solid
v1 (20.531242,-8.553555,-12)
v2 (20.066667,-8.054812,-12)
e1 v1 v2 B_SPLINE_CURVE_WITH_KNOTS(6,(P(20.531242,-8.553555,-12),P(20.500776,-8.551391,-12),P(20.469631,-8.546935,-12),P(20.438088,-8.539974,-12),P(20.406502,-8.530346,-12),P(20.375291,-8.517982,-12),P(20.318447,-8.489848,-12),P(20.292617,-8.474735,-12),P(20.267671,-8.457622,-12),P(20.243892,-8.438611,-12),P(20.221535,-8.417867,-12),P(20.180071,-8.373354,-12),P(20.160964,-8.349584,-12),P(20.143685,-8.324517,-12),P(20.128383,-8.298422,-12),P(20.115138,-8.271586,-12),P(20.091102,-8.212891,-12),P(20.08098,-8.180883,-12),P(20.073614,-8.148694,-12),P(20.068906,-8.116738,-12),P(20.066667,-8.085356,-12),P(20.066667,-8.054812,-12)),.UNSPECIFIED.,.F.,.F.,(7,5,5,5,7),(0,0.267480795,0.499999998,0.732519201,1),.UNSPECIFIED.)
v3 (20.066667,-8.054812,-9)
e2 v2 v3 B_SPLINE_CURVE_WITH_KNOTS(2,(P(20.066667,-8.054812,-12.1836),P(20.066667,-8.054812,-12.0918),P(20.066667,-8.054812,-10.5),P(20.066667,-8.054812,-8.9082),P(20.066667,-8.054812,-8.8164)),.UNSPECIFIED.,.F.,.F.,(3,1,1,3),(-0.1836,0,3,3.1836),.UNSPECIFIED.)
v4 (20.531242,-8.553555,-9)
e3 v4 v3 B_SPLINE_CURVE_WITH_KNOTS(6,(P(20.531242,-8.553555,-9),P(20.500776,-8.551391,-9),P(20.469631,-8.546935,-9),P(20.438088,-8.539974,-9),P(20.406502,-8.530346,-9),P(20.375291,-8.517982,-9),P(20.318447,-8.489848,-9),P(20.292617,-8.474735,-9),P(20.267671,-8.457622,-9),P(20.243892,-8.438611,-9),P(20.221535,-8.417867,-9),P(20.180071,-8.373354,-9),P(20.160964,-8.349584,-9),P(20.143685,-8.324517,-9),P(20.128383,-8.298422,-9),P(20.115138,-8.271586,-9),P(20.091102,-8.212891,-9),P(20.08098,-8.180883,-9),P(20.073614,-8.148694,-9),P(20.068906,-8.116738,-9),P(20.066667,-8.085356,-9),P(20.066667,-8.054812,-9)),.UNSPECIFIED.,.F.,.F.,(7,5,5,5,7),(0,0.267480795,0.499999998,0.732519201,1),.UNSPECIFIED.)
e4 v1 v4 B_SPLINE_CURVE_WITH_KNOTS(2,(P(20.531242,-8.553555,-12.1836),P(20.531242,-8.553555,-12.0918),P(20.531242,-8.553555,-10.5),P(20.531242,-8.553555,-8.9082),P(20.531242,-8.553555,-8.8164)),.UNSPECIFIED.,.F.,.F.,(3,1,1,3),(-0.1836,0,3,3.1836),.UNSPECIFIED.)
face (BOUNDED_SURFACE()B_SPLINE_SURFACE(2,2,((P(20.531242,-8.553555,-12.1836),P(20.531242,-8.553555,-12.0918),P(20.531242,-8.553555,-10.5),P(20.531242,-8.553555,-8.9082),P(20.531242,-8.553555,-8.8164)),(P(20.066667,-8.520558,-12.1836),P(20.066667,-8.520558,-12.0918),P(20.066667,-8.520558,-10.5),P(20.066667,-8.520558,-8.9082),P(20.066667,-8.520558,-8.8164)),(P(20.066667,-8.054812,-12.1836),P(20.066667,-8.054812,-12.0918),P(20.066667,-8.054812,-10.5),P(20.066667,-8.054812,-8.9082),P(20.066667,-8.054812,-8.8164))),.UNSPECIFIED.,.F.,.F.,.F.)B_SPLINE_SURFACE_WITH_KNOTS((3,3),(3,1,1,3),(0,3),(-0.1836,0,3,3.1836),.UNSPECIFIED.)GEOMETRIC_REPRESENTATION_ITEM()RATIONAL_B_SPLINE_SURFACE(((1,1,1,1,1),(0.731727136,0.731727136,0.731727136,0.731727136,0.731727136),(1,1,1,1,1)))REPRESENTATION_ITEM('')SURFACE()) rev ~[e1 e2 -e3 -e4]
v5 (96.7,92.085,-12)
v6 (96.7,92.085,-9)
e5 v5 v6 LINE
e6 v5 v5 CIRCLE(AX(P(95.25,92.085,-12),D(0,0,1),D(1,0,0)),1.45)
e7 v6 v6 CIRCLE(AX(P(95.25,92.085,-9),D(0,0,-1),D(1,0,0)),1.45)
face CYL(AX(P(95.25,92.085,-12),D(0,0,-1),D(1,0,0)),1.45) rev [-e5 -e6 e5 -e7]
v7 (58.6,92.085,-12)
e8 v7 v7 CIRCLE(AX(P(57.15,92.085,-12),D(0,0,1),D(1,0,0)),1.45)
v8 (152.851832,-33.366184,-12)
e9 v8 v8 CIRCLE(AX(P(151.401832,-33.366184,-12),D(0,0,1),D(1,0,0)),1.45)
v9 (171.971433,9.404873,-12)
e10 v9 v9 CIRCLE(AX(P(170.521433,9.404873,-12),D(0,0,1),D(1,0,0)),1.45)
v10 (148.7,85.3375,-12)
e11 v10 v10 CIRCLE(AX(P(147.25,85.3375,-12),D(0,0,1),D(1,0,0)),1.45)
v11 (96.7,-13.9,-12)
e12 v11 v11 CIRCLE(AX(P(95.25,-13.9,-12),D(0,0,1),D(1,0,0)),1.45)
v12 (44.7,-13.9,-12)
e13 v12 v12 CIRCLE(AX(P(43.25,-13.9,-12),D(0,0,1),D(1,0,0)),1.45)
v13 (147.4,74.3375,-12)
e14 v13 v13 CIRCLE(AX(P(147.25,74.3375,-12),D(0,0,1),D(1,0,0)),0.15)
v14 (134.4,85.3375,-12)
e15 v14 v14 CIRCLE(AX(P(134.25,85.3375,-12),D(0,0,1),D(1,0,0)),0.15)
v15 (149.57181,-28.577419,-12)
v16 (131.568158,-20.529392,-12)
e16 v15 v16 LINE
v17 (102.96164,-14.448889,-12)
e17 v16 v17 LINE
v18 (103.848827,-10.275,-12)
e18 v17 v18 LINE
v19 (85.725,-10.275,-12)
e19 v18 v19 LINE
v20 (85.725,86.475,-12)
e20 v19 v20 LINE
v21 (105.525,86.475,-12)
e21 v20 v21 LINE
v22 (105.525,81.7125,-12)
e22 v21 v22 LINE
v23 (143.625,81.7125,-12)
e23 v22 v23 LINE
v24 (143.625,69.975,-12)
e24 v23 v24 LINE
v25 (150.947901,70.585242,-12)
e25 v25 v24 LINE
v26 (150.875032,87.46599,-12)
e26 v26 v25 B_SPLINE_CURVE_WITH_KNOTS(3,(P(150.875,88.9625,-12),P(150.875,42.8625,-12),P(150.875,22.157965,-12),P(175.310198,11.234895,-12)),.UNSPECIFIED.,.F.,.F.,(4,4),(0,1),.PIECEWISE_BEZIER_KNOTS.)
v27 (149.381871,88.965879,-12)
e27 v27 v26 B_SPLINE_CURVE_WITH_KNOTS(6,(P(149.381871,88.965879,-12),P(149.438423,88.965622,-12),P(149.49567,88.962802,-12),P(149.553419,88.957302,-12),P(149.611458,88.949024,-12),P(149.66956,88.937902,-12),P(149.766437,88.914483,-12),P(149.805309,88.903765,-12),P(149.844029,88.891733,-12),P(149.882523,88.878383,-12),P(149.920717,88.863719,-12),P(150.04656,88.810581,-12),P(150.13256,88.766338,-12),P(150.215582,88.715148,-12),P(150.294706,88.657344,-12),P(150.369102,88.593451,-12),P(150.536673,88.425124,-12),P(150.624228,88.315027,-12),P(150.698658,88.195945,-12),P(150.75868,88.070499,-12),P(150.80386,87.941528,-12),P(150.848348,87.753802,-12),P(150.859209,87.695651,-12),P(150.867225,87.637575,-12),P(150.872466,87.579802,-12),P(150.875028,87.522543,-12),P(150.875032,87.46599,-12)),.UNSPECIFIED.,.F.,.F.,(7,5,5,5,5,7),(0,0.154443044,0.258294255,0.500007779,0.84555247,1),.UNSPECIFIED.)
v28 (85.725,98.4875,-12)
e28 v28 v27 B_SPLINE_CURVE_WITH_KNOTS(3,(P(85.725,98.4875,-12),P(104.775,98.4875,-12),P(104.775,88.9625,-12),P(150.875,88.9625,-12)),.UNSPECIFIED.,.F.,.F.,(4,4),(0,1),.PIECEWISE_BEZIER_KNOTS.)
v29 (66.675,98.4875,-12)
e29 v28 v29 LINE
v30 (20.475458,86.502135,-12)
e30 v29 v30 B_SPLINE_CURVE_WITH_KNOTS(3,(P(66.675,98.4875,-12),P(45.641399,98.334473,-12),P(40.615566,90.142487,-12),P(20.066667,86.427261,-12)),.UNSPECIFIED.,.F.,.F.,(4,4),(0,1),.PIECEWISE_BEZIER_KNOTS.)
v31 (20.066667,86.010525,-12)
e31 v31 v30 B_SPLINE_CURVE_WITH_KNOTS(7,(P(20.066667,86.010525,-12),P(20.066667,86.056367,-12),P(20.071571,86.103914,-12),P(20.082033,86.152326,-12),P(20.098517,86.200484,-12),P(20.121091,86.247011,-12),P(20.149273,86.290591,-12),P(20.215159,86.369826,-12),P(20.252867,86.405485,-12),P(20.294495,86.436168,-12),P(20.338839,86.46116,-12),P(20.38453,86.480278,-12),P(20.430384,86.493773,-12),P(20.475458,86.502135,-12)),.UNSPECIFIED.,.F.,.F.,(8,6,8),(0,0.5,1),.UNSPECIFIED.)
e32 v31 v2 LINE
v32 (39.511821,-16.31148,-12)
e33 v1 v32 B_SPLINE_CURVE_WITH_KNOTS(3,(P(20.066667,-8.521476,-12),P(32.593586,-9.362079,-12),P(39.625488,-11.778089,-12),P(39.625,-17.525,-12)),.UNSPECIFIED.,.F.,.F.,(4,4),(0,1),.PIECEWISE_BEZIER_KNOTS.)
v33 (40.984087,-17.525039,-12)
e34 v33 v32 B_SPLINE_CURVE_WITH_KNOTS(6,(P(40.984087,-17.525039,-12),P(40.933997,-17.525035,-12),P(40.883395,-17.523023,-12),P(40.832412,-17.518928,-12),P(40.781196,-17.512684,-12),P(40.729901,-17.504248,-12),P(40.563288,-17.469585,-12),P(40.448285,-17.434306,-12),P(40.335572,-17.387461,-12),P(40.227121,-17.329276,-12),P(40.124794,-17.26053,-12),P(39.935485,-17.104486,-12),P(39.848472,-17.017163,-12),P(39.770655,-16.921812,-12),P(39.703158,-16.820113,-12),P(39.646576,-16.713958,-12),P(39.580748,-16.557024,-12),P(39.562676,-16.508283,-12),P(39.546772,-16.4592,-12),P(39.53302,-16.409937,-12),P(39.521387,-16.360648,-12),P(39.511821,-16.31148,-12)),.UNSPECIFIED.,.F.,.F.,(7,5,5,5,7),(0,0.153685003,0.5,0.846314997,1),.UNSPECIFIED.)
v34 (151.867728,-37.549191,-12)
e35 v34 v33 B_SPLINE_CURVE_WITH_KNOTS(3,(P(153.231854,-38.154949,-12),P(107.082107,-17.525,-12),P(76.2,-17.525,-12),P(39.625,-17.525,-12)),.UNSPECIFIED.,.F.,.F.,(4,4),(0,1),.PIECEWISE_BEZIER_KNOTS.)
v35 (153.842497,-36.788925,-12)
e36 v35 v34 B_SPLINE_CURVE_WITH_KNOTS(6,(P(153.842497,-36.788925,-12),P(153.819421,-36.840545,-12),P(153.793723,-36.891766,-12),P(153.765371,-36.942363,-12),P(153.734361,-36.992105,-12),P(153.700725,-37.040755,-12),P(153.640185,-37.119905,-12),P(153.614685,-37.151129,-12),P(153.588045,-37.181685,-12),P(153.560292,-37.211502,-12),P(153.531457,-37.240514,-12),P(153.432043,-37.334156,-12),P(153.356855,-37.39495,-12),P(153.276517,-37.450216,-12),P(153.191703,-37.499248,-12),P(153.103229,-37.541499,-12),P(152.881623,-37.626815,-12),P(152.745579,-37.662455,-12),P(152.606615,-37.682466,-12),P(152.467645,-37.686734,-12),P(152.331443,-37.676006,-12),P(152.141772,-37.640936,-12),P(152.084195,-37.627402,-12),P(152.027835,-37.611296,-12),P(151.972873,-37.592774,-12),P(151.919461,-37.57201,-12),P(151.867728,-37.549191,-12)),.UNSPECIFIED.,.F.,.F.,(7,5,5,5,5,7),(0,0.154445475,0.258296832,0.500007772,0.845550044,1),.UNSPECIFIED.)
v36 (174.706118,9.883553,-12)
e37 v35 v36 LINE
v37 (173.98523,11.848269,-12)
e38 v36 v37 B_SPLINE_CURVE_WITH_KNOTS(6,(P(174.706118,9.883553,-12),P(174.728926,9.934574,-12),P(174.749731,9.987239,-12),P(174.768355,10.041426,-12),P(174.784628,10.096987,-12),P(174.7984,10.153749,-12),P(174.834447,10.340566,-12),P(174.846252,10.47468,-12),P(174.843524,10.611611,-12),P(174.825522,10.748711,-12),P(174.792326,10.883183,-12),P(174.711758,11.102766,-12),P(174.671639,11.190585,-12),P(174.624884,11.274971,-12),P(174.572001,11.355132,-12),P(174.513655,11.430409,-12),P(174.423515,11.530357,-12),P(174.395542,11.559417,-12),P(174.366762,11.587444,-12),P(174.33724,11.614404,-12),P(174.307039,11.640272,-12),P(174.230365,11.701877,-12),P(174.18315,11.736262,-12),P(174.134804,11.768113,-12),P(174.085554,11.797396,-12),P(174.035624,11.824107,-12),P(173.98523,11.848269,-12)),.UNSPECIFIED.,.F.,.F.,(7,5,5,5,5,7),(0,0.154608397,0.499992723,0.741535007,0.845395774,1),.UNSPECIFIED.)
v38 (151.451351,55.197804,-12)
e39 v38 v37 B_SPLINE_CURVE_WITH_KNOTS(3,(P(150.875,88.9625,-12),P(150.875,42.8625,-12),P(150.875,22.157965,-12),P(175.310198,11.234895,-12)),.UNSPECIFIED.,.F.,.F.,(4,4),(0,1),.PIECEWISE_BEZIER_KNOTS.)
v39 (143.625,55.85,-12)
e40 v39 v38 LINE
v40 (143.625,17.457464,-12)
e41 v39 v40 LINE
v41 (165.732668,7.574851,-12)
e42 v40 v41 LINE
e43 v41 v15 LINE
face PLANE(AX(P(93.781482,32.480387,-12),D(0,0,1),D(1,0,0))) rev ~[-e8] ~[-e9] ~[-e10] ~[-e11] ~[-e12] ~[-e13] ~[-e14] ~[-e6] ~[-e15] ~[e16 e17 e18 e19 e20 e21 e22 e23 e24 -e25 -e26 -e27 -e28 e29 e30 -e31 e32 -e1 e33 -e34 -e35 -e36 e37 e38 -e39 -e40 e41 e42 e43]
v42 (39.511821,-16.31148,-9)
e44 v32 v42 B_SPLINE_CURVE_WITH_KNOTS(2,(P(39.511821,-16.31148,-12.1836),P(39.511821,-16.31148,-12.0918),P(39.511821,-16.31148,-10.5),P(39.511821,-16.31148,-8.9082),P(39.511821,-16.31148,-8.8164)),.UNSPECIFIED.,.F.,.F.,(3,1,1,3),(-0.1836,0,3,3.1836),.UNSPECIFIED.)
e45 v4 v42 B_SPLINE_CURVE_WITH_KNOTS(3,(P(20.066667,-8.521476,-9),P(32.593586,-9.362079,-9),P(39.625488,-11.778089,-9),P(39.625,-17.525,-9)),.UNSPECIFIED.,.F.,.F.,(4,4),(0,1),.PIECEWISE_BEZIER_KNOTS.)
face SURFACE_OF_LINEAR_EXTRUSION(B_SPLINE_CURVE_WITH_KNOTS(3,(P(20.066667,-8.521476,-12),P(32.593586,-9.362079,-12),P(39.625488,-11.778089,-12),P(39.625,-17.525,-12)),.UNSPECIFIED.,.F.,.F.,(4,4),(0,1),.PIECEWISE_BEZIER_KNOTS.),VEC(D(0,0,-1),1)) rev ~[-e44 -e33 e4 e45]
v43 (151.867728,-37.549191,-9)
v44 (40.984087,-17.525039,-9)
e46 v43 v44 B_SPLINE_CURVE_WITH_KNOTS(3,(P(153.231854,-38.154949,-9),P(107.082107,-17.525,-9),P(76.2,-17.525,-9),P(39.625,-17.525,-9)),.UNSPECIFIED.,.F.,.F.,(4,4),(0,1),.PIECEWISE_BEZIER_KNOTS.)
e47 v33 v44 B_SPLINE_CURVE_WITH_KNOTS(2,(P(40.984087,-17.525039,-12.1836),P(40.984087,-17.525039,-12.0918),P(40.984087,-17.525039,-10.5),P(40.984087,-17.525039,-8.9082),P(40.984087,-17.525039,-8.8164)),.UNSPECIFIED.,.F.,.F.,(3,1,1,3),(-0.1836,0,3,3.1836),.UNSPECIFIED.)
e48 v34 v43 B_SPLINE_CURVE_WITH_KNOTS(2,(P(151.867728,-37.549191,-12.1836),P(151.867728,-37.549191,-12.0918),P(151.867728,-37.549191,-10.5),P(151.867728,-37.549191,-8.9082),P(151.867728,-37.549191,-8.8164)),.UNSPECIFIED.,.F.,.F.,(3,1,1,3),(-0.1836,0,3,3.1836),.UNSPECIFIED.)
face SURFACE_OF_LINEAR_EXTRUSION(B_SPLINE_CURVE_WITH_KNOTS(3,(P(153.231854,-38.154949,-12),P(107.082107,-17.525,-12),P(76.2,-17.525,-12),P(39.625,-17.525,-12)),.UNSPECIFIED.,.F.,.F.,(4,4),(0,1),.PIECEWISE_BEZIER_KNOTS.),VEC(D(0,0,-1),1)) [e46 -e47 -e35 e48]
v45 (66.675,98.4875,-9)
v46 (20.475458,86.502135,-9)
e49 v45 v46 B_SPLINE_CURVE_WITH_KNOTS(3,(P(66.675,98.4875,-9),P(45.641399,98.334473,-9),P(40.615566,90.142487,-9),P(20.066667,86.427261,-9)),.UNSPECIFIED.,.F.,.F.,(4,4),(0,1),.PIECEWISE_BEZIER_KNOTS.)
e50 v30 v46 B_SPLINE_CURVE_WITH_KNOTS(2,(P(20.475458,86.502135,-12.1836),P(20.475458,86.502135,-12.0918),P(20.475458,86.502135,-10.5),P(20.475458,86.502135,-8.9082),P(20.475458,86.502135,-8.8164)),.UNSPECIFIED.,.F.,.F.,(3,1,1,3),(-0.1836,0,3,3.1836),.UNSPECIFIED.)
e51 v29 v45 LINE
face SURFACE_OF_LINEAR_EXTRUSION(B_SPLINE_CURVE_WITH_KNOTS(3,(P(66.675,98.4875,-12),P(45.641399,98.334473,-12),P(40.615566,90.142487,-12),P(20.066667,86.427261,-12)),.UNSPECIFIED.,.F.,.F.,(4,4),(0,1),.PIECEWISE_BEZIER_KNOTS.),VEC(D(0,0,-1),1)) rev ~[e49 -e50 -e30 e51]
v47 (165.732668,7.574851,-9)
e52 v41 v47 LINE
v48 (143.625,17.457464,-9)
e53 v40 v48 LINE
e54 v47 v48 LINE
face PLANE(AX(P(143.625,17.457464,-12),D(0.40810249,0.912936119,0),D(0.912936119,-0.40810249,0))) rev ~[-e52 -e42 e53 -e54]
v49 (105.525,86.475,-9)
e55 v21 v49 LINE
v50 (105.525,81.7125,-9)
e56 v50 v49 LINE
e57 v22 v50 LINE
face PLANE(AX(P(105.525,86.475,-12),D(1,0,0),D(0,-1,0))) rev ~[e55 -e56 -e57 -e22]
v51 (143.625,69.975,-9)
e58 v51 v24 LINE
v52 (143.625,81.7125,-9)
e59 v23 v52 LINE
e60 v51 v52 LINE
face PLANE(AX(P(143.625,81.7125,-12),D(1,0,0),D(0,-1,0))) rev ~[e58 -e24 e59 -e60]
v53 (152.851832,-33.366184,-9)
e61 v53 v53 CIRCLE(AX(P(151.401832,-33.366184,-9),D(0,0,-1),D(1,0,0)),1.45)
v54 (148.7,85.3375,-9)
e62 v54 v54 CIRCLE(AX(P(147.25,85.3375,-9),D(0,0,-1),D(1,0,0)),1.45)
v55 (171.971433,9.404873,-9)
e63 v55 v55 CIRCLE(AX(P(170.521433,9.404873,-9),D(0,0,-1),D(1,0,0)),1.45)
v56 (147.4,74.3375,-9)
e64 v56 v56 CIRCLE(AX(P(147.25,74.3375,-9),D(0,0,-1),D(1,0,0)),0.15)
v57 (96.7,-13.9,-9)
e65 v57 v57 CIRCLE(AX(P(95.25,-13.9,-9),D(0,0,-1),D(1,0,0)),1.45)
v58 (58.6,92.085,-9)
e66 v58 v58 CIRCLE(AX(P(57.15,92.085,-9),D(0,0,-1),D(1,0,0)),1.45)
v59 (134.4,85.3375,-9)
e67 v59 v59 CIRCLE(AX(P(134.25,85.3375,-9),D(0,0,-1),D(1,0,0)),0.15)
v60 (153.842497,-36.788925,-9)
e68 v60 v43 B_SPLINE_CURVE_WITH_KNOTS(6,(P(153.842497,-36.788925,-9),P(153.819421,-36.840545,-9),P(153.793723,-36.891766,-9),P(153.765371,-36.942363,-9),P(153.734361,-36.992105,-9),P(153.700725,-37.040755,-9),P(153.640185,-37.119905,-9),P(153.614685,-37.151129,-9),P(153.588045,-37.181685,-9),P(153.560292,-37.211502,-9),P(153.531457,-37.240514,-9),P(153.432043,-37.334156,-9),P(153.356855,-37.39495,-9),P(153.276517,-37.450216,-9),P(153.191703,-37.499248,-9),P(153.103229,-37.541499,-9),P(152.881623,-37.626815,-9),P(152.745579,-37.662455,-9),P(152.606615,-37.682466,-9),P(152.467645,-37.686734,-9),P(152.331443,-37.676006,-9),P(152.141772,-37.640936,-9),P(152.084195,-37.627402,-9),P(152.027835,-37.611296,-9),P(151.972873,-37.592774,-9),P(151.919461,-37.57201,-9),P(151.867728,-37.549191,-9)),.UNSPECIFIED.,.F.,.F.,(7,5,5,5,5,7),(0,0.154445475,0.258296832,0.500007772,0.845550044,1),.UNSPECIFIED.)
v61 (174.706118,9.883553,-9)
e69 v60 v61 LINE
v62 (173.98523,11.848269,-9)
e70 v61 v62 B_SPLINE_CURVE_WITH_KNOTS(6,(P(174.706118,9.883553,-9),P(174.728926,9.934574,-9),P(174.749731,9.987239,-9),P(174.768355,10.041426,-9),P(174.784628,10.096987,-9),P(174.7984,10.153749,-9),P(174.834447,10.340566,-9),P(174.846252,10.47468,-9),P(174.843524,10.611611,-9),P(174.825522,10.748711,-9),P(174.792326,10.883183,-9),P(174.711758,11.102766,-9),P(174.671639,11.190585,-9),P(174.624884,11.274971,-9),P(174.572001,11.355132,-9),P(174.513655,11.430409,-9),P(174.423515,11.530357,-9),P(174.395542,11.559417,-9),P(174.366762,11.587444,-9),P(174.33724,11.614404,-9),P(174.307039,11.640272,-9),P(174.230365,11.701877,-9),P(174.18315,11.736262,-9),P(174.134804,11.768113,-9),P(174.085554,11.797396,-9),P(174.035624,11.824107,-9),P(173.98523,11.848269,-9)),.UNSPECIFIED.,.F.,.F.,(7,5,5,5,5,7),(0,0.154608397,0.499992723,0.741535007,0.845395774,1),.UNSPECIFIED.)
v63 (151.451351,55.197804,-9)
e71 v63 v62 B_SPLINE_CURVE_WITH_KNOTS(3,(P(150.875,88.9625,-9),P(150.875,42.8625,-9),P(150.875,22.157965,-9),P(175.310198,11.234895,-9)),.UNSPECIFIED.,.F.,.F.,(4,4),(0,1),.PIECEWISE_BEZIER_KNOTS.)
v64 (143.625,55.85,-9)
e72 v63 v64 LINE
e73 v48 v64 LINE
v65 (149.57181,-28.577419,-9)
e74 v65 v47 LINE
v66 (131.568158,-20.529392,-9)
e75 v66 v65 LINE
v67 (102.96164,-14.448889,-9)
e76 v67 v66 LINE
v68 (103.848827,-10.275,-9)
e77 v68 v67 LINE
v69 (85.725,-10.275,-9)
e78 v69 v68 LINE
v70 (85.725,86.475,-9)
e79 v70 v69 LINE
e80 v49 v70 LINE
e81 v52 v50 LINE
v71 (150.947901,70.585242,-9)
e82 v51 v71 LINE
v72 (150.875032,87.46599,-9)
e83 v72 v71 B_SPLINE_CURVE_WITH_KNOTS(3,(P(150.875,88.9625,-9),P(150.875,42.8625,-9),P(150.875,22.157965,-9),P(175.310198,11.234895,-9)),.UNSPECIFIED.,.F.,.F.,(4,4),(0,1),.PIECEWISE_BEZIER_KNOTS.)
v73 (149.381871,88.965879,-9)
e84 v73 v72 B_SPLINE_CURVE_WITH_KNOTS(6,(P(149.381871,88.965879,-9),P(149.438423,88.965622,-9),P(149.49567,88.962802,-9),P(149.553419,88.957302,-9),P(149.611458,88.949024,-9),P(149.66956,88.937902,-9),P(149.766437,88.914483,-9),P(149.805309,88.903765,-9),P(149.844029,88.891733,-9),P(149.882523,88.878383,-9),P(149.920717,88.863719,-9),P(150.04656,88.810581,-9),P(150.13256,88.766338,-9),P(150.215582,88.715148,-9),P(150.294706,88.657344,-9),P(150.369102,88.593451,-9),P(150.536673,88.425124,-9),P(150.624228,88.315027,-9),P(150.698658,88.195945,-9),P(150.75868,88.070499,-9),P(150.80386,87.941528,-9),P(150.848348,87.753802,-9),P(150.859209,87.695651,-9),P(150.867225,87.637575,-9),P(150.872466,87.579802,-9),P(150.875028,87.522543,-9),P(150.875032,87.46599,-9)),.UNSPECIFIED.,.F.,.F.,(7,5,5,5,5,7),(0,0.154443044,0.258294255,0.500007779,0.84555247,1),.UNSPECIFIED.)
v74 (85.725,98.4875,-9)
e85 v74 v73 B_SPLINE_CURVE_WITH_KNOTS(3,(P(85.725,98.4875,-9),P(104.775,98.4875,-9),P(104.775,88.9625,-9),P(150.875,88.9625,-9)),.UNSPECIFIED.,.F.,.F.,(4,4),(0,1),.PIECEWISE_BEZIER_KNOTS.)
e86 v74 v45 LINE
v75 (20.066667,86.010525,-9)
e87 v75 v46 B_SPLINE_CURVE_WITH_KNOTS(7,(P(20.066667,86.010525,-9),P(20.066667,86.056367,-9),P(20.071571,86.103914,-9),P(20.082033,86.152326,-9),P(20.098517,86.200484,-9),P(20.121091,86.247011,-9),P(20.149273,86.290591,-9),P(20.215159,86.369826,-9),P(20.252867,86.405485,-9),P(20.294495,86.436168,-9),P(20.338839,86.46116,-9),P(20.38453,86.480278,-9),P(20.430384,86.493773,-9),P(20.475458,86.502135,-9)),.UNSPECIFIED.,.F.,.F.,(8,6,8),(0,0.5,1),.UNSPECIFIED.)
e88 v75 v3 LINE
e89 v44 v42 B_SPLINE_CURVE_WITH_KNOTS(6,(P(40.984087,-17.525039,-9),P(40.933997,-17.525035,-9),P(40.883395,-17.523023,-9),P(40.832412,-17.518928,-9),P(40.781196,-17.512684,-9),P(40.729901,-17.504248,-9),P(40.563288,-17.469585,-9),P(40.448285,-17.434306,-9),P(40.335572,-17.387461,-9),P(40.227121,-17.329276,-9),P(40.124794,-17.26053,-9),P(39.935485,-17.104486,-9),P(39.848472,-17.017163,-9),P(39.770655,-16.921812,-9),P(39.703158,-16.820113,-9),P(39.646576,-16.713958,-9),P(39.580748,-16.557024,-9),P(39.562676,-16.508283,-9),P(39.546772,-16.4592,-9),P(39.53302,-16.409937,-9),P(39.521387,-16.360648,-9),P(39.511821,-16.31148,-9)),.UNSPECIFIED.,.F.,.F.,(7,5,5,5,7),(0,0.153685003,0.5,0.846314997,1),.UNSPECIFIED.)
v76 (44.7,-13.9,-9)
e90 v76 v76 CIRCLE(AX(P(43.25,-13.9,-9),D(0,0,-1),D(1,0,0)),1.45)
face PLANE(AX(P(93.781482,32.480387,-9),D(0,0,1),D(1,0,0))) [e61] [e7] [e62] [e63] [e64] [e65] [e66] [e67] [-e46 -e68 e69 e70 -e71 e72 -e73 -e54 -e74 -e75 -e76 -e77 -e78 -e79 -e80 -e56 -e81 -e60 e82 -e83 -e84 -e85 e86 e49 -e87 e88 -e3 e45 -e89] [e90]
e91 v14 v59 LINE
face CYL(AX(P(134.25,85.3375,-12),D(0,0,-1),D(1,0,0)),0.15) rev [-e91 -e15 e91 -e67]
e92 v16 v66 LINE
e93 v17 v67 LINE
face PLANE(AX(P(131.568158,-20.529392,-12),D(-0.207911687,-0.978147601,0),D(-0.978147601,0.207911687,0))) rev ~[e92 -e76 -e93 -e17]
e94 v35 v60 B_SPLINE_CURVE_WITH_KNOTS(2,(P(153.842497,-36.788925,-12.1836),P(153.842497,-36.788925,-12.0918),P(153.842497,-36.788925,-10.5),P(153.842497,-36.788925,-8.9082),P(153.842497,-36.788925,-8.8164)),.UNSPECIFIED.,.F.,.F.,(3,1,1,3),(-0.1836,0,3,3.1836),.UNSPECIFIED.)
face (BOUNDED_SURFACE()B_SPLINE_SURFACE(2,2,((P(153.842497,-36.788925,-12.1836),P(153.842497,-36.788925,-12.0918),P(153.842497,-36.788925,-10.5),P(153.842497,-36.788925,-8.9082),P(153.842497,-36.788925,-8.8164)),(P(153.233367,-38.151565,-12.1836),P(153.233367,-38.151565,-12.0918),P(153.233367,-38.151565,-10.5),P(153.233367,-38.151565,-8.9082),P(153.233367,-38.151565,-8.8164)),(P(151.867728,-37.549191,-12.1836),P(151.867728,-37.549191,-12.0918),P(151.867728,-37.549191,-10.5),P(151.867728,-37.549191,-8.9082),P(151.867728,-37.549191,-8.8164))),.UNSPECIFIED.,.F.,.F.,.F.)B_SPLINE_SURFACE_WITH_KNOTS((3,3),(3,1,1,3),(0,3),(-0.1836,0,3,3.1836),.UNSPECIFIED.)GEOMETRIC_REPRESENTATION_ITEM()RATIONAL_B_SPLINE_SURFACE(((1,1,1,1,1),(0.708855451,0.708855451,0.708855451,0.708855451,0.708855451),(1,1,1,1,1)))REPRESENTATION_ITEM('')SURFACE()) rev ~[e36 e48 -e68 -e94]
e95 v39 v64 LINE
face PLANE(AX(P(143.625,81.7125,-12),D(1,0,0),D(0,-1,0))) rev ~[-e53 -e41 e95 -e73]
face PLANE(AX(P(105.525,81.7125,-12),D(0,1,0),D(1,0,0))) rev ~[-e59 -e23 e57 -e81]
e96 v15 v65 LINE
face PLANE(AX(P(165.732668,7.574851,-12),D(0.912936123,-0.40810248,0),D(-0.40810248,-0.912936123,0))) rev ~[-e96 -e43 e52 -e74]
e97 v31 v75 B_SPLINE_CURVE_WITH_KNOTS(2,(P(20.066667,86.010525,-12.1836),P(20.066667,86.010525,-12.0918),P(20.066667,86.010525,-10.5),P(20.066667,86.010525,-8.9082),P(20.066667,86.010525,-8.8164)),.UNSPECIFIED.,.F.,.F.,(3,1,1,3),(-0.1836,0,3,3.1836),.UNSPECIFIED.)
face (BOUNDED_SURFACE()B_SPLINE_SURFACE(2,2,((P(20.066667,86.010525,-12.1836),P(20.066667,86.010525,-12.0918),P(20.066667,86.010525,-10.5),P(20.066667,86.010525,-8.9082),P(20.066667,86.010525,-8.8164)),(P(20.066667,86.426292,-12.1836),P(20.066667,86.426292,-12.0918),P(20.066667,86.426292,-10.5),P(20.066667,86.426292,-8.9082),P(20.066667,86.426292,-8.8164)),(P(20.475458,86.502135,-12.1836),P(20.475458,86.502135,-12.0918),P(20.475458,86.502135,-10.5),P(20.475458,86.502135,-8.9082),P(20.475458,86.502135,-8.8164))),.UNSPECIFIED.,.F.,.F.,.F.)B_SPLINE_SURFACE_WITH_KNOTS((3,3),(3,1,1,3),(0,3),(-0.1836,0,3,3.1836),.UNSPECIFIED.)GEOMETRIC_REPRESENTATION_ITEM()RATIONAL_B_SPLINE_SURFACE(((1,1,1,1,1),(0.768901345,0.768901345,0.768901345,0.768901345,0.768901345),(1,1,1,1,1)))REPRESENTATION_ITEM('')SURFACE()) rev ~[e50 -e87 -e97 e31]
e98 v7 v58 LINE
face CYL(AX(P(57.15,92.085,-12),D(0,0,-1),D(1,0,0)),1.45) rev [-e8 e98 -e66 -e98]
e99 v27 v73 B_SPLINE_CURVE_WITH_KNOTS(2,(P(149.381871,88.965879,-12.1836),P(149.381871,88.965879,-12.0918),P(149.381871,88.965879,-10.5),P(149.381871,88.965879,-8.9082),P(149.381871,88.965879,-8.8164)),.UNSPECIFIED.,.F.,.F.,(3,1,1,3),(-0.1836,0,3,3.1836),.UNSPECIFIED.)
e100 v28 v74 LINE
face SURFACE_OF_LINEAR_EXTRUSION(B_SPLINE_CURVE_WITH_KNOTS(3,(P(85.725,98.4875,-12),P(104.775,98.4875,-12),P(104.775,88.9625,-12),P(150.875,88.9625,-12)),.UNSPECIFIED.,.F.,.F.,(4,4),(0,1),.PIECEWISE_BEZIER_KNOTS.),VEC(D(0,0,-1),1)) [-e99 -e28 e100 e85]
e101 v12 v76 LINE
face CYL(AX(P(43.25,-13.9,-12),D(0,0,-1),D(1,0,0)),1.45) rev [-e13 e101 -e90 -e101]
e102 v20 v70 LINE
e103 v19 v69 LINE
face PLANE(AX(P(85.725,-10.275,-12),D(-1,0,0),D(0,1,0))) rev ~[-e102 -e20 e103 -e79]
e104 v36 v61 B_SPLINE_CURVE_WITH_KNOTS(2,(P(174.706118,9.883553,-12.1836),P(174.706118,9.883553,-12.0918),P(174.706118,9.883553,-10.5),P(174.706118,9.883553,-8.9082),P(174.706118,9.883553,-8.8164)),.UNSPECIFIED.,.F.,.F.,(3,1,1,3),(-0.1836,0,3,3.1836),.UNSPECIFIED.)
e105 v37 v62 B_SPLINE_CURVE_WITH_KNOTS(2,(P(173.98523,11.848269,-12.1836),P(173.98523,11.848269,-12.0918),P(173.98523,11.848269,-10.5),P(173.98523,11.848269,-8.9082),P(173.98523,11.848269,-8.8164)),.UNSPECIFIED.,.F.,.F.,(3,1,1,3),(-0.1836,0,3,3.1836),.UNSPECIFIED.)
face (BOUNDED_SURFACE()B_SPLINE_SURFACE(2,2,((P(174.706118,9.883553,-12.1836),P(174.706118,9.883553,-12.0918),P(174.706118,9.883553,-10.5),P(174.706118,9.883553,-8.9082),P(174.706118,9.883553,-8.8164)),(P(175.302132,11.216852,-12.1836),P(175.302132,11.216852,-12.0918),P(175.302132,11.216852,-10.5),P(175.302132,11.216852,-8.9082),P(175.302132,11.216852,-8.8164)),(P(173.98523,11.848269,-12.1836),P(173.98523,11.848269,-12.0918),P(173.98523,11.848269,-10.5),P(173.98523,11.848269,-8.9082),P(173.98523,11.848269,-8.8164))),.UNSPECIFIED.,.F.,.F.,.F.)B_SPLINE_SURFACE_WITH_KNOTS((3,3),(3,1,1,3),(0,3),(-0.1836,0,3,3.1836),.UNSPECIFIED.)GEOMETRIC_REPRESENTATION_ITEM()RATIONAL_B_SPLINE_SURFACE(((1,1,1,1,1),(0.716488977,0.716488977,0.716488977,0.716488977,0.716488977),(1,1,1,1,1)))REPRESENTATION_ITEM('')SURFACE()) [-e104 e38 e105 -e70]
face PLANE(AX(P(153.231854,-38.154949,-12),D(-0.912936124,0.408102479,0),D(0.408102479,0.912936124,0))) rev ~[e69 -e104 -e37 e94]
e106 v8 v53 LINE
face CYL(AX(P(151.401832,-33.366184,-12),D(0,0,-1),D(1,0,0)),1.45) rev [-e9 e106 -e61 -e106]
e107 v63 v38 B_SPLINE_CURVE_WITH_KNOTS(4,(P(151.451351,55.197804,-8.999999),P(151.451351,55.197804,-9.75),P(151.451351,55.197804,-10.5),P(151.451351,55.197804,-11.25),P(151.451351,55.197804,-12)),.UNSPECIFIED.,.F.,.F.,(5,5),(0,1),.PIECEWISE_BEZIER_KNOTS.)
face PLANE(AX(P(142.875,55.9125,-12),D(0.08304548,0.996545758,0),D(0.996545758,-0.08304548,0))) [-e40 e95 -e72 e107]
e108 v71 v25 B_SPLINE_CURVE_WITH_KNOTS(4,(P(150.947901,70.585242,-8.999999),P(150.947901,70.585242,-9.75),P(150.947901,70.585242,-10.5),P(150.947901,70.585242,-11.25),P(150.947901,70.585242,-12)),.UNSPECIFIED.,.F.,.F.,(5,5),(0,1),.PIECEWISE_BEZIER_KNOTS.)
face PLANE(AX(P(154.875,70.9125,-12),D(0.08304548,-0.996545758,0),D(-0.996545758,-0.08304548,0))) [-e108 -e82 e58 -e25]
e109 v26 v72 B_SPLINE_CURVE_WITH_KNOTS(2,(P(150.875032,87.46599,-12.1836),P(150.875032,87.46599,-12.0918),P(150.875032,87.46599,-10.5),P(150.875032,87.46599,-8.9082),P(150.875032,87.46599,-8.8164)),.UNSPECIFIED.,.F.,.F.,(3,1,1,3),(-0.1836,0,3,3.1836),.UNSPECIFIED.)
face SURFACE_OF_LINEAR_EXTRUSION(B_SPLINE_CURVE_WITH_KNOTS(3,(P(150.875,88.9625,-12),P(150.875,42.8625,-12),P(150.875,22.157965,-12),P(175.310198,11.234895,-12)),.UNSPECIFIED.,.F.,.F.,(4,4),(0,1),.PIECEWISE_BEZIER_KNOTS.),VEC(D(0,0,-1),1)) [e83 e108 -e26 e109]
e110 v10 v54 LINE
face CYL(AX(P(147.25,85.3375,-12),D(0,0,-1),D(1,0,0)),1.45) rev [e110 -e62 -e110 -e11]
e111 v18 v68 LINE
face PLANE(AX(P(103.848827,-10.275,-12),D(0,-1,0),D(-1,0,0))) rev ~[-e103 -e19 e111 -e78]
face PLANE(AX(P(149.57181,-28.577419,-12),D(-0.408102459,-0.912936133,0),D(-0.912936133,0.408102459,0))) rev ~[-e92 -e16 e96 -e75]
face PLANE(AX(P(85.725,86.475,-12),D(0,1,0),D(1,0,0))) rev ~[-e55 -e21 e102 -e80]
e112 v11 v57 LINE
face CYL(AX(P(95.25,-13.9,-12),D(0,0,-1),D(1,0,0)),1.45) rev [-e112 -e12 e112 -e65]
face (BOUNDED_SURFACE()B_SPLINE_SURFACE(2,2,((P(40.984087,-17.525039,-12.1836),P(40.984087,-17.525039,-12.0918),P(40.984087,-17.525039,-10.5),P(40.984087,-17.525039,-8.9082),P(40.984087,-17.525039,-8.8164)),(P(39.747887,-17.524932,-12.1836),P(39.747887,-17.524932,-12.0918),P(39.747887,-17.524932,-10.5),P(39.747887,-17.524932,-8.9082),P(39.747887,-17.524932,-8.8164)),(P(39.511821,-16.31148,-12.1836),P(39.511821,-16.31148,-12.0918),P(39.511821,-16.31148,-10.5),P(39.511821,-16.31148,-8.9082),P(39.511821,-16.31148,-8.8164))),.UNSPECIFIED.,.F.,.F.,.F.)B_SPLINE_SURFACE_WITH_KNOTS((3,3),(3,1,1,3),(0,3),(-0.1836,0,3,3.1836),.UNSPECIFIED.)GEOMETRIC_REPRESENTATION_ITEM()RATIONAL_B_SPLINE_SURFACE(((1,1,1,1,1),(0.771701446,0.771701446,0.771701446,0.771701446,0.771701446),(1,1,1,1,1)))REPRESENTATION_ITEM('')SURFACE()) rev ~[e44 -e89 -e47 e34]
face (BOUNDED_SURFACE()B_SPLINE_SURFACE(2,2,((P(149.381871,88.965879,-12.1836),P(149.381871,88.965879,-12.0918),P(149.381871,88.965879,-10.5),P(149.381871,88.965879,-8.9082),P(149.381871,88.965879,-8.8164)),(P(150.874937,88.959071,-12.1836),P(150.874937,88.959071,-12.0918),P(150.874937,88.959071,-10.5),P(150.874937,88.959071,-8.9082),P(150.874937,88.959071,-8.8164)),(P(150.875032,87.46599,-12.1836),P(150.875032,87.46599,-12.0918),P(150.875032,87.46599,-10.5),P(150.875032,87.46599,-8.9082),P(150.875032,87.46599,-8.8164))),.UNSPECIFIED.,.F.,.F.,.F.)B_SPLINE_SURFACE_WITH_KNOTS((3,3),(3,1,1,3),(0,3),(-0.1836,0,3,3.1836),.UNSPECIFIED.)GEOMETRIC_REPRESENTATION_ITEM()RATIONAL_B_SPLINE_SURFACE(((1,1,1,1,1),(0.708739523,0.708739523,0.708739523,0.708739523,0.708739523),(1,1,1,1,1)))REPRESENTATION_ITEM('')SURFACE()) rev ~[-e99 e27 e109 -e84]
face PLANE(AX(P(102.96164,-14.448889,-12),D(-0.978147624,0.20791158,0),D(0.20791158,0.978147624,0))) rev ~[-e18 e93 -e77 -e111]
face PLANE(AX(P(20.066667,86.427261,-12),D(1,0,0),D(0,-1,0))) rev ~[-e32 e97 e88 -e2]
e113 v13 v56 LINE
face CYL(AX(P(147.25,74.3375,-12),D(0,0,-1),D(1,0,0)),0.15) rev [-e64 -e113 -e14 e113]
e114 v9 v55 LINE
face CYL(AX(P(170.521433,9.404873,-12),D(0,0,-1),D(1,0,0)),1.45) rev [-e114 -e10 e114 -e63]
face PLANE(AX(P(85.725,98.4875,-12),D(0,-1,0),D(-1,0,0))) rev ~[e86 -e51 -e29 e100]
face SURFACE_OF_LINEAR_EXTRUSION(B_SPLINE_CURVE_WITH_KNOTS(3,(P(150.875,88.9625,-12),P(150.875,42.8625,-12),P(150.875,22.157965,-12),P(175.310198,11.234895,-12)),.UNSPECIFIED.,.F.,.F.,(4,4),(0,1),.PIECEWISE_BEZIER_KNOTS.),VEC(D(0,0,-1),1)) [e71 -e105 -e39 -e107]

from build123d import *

# Parameters (mm, degrees)
PAD008_DEPTH    = 3
POCKET011_DEPTH = 5
SKETCH043_R     = 1.45
POCKET017_DEPTH = 22
POCKET023_DEPTH = 28
SKETCH059_R     = 0.15
POCKET030_DEPTH = 32
FILLET006_R     = 1.5
FILLET014_R     = 0.5


with BuildPart() as part:
    # Sketch030 → Pad008 (new body)
    with BuildSketch(Plane.XY):
        with BuildLine():
            Line((153.231854, -38.154949), (175.310198, 11.234895))
            add(Edge.make_bspline(
                [(150.875, 88.9625), (150.875, 42.8625), (150.875, 22.157965), (175.310198, 11.234895)],
                knots=[0, 0, 0, 0, 1, 1, 1, 1], degree=3))
            add(Edge.make_bspline(
                [(85.725, 98.4875), (104.775, 98.4875), (104.775, 88.9625), (150.875, 88.9625)],
                knots=[0, 0, 0, 0, 1, 1, 1, 1], degree=3))
            Line((85.725, 98.4875), (66.675, 98.4875))
            add(Edge.make_bspline(
                [(66.675, 98.4875), (45.641399, 98.334473), (40.615566, 90.142487), (20.066667, 86.427261)],
                knots=[0, 0, 0, 0, 1, 1, 1, 1], degree=3))
            Line((20.066667, 86.427261), (20.066667, -8.521476))
            add(Edge.make_bspline(
                [(20.066667, -8.521476), (32.593586, -9.362079), (39.625488, -11.778089), (39.625, -17.525)],
                knots=[0, 0, 0, 0, 1, 1, 1, 1], degree=3))
            add(Edge.make_bspline(
                [(153.231854, -38.154949), (107.082107, -17.525), (76.2, -17.525), (39.625, -17.525)],
                knots=[0, 0, 0, 0, 1, 1, 1, 1], degree=3))
        make_face()
    extrude(amount=PAD008_DEPTH)

    # Sketch031 → Pocket011 (cut)
    with BuildSketch(Plane(origin=(0, 0, 0), x_dir=(1, 0, 0), z_dir=(0, 0, -1))):
        Polygon((85.725, -86.475), (105.525, -86.475), (105.525, -81.7125), (143.625, -81.7125), (143.625, -17.457464), (165.732668, -7.574851), (149.57181, 28.577419), (131.568158, 20.529392), (102.96164, 14.448889), (103.848827, 10.275), (85.725, 10.275), align=None)
    extrude(amount=-POCKET011_DEPTH, mode=Mode.SUBTRACT)

    # Sketch043 → Pocket017 (cut)
    with BuildSketch(Plane.XY):
        with Locations((-4.375, -4.375)):
            Circle(SKETCH043_R)
        with Locations((-4.375, 80.575)):
            Circle(SKETCH043_R)
        with Locations((151.401832, -33.366184)):
            Circle(SKETCH043_R)
        with Locations((170.521433, 9.404873)):
            Circle(SKETCH043_R)
        with Locations((147.25, 85.3375)):
            Circle(SKETCH043_R)
        with Locations((43.25, -13.9)):
            Circle(SKETCH043_R)
        with Locations((57.15, 92.085)):
            Circle(SKETCH043_R)
        with Locations((95.25, 92.085)):
            Circle(SKETCH043_R)
        with Locations((95.25, -13.9)):
            Circle(SKETCH043_R)
    extrude(amount=POCKET017_DEPTH, mode=Mode.SUBTRACT)

    # Sketch051 → Pocket023 (cut)
    with BuildSketch(Plane.XY):
        Polygon((142.875, 69.9125), (142.875, 55.9125), (154.875, 54.9125), (154.875, 70.9125), align=None)
    extrude(amount=POCKET023_DEPTH, mode=Mode.SUBTRACT)

    # Sketch059 → Pocket030 (cut)
    with BuildSketch(Plane.XY):
        with Locations((134.25, 85.3375)):
            Circle(SKETCH059_R)
        with Locations((147.25, 74.3375)):
            Circle(SKETCH059_R)
    extrude(amount=POCKET030_DEPTH, mode=Mode.SUBTRACT)

    # Fillet006
    fillet006_edges = [part.edges().sort_by_distance(p)[0] for p in [
        (39.625, -17.525, 1.5),
        (153.231854, -38.154949, 1.5),
        (175.310198, 11.234895, 1.5),
        (150.875, 88.9625, 1.5),
    ]]
    fillet(fillet006_edges, radius=FILLET006_R)

    # Fillet014
    fillet014_edges = [part.edges().sort_by_distance(p)[0] for p in [
        (20.066667, -8.521476, 1.5),
        (20.066667, 86.427261, 1.5),
    ]]
    fillet(fillet014_edges, radius=FILLET014_R)


with BuildPart() as part_1:
    # Body007 placement: moved
    add(part.part.moved(Location((0, 0, -12))))


solid = part_1.part
